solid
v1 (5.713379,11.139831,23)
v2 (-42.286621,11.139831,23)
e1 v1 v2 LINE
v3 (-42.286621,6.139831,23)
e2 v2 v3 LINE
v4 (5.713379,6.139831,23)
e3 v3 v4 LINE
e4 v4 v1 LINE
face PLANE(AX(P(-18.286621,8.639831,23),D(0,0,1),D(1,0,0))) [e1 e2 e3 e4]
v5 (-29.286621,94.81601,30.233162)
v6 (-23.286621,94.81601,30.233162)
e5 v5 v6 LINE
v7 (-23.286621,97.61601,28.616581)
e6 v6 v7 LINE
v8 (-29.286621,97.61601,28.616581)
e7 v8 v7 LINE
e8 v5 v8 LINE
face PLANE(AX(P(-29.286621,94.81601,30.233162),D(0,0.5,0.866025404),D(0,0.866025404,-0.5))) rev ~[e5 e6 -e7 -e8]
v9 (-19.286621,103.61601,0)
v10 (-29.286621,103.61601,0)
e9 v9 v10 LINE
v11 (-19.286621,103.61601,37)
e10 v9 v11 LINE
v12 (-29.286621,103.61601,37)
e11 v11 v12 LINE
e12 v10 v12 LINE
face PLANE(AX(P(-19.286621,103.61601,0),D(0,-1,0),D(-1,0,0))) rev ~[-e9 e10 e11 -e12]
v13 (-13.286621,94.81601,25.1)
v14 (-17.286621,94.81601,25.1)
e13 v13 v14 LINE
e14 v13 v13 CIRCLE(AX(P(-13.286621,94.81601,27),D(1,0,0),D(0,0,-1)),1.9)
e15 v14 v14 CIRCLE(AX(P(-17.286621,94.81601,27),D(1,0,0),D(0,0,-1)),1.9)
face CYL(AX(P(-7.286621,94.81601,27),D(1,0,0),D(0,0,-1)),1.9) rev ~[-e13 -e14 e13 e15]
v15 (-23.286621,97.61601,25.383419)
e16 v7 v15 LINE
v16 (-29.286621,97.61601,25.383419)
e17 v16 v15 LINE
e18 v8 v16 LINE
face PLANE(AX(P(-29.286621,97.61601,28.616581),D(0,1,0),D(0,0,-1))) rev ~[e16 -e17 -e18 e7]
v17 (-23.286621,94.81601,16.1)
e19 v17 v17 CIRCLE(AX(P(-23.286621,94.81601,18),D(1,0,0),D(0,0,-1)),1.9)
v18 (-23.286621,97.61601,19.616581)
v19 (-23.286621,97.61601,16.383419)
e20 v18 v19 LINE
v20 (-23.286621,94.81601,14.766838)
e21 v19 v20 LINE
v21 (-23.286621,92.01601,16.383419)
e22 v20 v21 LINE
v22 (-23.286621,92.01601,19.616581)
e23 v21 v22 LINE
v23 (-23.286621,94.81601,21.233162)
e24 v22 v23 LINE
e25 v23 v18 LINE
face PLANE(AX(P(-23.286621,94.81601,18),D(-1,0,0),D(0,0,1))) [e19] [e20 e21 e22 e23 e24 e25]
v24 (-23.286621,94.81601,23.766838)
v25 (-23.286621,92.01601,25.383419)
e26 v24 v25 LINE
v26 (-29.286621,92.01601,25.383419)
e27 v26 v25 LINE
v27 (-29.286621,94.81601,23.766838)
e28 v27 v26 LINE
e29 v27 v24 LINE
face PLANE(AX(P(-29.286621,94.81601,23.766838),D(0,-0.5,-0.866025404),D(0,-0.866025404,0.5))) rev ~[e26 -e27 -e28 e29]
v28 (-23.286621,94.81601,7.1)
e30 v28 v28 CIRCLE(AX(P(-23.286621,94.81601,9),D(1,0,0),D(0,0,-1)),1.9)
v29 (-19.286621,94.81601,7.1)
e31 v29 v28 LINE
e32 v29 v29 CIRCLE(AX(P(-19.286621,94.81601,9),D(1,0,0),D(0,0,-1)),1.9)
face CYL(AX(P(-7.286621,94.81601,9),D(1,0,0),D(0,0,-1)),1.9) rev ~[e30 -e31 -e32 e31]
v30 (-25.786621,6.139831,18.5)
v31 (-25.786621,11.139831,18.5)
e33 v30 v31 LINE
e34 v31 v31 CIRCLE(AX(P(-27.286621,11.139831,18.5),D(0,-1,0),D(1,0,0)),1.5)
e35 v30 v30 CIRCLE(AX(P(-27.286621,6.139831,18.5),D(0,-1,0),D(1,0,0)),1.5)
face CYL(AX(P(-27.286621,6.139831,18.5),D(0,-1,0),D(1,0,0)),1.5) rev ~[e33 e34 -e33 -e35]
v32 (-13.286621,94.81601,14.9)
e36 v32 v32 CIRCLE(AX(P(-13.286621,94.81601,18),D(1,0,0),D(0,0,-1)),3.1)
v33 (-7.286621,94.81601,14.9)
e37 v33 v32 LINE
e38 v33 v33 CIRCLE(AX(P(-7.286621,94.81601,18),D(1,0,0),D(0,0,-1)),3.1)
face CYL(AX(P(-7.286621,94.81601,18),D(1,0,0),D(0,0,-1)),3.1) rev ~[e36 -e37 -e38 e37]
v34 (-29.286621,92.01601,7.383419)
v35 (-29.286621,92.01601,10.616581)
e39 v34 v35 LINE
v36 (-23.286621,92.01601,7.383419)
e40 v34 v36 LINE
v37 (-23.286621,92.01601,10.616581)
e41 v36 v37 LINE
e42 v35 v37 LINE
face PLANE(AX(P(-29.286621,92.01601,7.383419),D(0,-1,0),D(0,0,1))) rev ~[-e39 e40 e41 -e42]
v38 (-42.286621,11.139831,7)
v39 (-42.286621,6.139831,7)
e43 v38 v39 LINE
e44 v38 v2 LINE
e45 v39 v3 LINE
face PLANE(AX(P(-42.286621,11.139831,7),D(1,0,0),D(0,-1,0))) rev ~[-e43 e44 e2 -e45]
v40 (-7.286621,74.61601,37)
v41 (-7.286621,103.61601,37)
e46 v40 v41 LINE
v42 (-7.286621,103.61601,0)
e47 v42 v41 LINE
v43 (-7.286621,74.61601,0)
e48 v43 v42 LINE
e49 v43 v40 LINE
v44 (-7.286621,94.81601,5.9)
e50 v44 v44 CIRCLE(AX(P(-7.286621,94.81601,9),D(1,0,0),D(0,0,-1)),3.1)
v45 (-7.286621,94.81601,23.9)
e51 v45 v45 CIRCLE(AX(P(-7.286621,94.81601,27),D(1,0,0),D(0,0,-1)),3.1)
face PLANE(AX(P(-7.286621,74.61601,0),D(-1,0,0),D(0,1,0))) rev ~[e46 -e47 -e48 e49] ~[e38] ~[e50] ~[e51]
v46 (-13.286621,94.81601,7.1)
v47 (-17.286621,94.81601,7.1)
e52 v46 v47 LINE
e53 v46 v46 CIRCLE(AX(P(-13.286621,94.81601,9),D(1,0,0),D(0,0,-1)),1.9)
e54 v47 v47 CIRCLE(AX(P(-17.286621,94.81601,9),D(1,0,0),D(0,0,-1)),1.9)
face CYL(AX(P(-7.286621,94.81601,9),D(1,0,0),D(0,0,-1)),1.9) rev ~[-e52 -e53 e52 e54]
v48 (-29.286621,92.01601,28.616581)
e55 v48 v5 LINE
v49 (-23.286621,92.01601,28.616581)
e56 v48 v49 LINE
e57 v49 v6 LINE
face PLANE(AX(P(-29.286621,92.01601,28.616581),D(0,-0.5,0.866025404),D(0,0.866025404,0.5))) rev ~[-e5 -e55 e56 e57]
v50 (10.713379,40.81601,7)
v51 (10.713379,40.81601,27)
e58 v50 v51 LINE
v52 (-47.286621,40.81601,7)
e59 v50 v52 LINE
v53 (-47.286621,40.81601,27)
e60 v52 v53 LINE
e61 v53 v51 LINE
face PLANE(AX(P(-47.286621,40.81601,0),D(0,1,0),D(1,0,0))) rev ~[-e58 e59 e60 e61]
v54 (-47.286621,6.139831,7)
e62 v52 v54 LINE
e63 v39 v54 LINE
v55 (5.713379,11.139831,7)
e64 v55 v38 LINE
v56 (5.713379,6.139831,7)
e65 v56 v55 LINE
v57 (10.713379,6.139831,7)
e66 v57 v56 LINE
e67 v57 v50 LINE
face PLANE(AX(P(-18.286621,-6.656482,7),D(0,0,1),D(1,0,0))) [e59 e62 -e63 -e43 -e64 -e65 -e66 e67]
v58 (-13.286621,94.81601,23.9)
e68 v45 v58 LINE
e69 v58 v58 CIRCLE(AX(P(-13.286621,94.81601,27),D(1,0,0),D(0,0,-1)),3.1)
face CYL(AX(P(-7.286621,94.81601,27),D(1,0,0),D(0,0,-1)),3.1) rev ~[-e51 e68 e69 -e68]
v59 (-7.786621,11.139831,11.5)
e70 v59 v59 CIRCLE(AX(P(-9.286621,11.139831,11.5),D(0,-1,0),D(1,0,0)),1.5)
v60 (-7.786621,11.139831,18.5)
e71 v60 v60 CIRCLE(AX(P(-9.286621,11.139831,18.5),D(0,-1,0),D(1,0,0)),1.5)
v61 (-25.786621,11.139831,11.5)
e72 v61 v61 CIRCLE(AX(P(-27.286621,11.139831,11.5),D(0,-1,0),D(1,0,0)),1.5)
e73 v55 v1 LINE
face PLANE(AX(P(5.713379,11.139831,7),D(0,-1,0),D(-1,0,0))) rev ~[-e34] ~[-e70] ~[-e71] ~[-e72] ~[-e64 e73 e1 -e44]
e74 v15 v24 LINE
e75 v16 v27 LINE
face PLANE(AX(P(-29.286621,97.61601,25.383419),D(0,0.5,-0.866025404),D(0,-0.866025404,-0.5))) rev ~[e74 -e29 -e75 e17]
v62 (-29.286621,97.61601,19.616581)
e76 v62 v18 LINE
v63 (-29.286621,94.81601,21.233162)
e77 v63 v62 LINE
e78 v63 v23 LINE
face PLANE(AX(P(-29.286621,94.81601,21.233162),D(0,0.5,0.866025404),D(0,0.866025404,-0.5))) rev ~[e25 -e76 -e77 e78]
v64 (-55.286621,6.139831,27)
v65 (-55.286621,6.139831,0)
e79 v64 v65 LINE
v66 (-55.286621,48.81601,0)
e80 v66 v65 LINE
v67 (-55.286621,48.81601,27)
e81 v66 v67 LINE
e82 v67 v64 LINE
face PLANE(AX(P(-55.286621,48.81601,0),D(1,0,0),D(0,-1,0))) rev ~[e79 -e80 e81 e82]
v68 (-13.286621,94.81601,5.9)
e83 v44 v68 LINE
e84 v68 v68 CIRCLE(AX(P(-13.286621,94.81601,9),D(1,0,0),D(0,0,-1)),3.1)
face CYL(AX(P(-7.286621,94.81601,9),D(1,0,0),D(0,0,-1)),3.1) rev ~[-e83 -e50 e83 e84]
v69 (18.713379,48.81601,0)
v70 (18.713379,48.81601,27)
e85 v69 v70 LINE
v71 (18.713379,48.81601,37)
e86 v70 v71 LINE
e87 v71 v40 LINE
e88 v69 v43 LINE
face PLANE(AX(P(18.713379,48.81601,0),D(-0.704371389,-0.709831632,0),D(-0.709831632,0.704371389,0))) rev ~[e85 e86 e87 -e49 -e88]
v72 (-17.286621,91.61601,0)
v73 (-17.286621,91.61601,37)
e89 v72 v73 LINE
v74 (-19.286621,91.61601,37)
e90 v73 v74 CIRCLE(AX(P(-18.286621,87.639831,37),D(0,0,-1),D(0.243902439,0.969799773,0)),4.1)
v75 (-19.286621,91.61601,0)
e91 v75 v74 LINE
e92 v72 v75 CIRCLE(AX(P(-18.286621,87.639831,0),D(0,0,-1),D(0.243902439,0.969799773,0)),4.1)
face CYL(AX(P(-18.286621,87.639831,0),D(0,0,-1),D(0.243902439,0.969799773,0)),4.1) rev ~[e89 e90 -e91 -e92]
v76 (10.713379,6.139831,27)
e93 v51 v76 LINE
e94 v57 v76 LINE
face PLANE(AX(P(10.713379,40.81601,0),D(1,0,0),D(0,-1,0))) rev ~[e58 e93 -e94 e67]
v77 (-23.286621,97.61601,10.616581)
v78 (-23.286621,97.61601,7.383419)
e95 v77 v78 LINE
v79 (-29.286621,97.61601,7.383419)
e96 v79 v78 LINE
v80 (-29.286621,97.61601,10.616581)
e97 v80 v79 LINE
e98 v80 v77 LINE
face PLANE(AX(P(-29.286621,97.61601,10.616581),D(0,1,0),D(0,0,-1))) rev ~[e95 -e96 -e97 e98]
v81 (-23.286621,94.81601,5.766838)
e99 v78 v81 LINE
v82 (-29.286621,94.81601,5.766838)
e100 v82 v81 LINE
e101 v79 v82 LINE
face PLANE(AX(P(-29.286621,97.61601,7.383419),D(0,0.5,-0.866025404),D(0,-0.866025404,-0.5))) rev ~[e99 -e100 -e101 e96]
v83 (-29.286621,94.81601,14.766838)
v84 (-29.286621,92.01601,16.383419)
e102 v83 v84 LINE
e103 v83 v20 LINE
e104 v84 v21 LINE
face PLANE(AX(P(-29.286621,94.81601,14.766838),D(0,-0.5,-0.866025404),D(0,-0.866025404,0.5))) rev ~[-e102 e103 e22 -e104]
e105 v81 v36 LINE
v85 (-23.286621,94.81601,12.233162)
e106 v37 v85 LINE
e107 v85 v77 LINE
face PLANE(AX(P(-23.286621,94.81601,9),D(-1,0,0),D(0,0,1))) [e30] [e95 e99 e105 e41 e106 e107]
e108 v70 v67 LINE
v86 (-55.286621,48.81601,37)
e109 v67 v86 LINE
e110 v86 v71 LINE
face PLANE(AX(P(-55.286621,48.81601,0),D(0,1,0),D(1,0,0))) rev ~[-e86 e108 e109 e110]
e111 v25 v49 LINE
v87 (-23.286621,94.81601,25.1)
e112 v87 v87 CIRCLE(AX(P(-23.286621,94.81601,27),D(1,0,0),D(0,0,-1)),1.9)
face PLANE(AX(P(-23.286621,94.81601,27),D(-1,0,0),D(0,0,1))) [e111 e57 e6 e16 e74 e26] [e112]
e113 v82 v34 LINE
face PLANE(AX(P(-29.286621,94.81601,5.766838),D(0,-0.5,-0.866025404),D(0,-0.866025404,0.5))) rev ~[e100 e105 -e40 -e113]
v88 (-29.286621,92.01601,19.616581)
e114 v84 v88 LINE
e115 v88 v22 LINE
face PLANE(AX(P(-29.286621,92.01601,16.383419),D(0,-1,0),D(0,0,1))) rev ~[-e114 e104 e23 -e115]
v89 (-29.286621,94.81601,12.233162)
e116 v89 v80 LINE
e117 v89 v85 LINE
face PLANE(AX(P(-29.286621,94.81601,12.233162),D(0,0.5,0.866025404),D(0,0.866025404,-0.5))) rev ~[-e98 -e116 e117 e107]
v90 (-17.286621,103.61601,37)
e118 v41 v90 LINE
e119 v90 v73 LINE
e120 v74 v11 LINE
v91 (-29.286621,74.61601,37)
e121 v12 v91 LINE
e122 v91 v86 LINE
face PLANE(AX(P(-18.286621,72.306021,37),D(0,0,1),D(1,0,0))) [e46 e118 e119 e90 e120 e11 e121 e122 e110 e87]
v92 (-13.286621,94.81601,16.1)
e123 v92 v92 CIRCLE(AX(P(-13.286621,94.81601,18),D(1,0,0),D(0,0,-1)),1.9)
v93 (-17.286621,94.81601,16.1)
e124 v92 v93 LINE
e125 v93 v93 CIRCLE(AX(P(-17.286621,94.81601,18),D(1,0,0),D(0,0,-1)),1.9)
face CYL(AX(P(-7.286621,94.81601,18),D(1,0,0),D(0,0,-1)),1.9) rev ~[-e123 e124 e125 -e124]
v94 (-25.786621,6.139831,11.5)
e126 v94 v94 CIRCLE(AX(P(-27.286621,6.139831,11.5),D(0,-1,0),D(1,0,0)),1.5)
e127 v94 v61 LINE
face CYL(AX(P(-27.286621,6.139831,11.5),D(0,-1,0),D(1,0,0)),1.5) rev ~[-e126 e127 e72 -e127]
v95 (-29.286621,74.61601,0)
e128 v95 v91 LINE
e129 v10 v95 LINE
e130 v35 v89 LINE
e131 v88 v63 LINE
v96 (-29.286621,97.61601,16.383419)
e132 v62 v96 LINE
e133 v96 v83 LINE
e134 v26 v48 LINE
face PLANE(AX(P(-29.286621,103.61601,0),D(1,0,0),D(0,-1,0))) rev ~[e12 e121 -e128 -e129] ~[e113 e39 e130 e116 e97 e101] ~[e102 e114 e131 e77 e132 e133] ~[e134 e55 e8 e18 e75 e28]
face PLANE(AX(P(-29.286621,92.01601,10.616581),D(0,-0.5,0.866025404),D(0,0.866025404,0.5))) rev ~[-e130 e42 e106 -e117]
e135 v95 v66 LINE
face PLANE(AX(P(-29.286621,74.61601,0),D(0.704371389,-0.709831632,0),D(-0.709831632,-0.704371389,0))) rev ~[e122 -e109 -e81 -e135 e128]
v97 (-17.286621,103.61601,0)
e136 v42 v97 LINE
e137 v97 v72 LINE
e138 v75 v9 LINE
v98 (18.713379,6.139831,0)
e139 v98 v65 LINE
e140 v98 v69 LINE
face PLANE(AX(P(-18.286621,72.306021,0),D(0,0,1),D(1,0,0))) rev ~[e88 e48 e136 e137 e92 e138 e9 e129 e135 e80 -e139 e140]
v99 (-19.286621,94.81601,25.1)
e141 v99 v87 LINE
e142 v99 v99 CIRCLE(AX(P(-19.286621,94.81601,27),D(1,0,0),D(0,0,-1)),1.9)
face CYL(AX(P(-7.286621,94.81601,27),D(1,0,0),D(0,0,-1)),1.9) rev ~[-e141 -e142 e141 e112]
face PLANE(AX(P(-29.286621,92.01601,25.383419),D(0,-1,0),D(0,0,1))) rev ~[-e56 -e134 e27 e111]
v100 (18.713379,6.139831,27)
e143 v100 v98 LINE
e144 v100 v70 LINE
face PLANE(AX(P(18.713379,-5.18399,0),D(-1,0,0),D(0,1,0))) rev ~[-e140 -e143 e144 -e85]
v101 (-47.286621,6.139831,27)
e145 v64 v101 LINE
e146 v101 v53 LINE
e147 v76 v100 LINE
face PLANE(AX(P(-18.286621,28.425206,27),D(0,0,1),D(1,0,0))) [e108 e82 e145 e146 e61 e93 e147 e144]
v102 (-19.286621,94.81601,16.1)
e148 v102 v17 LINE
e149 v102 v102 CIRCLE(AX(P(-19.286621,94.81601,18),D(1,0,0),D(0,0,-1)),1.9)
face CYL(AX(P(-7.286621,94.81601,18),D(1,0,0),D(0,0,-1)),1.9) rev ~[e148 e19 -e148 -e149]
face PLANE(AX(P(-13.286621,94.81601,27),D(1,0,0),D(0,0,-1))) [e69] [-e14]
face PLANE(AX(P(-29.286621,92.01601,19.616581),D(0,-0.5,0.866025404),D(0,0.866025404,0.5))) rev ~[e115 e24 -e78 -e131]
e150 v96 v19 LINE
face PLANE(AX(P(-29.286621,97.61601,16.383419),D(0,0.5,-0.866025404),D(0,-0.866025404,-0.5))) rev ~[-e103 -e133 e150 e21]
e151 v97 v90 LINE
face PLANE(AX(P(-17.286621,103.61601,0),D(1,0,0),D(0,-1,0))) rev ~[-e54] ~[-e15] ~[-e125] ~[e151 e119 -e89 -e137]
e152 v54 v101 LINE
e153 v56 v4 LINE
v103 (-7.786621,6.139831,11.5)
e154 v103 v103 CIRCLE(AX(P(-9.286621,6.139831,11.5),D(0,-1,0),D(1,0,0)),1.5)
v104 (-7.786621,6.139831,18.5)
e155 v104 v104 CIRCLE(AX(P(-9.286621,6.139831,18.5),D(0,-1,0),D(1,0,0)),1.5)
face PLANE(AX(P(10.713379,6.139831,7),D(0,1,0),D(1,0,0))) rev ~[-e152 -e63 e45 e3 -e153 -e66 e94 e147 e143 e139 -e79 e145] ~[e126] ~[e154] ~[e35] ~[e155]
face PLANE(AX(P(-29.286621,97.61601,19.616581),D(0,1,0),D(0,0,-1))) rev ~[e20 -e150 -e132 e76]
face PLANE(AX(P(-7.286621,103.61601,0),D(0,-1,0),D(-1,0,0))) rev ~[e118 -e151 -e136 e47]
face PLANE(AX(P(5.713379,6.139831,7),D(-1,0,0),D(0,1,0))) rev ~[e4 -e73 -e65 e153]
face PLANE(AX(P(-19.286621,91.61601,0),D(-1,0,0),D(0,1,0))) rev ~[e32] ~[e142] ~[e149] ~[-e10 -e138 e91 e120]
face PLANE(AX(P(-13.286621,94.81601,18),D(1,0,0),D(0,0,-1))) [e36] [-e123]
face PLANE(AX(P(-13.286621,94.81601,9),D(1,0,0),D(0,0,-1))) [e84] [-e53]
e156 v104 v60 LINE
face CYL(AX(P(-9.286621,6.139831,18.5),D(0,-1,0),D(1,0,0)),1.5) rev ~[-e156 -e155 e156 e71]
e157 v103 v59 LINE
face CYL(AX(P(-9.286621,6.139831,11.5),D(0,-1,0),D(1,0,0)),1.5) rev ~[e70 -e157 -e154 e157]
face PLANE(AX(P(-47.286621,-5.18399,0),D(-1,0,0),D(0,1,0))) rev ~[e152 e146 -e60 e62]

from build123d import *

# Parameters (mm, degrees)
SALIENTE_EXTRUIR1_DEPTH = 7
SALIENTE_EXTRUIR3_DEPTH = 27
SALIENTE_EXTRUIR5_DEPTH = 37
CROQUIS10_R             = 1.9
CORTAR_EXTRUIR3_DEPTH   = 22
CROQUIS11_R             = 3.1
CORTAR_EXTRUIR4_DEPTH   = 6
CORTAR_EXTRUIR5_DEPTH   = 6
CORTAR_EXTRUIR6_START   = -7
CORTAR_EXTRUIR6_DEPTH   = 7
CROQUIS17_4_W           = 8
CROQUIS17_4_H           = 11.32382093
CORTAR_EXTRUIR7_DEPTH   = 20
SALIENTE_EXTRUIR6_DEPTH = 16
CROQUIS18_R             = 1.5
CORTAR_EXTRUIR8_DEPTH   = 10


with BuildPart() as part:
    # Croquis2 → Saliente-Extruir1 (new body)
    with BuildSketch(Plane.XY):
        with BuildLine():
            Line((-47.286620614, 40.816010109), (-47.286620614, -49.183989891))
            ThreePointArc((-47.286620614, -49.183989891), (-45.236368082, -54.133737359), (-40.286620614, -56.183989891))
            Line((-40.286620614, -56.183989891), (3.713379386, -56.183989891))
            ThreePointArc((3.713379386, -56.183989891), (8.663126854, -54.133737359), (10.713379386, -49.183989891))
            Line((10.713379386, -49.183989891), (10.713379386, 40.816010109))
            Line((10.713379386, 40.816010109), (-47.286620614, 40.816010109))
        make_face()
    extrude(amount=SALIENTE_EXTRUIR1_DEPTH)

    # Croquis2<7> → Saliente-Extruir3 (add)
    with BuildSketch(Plane.XY):
        Polygon((-55.286620614, 48.816010109), (-55.286620614, -5.183989891), (-47.286620614, -5.183989891), (-47.286620614, 40.816010109), (10.713379386, 40.816010109), (10.713379386, -5.183989891), (18.713379386, -5.183989891), (18.713379386, 48.816010109), align=None)
    extrude(amount=SALIENTE_EXTRUIR3_DEPTH)

    # Croquis2<14> → Saliente-Extruir5 (add)
    with BuildSketch(Plane.XY):
        with BuildLine():
            Line((-55.286620614, 48.816010109), (-30.786620614, 48.816010109))
            Line((-30.786620614, 48.816010109), (-5.786620614, 48.816010109))
            Line((-5.786620614, 48.816010109), (18.713379386, 48.816010109))
            Line((18.713379386, 48.816010109), (-7.286620614, 74.616010109))
            Line((-7.286620614, 74.616010109), (-7.286620614, 103.616010109))
            Line((-7.286620614, 103.616010109), (-17.286620614, 103.616010109))
            Line((-17.286620614, 103.616010109), (-17.286620614, 91.616010109))
            ThreePointArc((-17.286620614, 91.616010109), (-18.286620614, 83.539831039), (-19.286620614, 91.616010109))
            Line((-19.286620614, 91.616010109), (-19.286620614, 103.616010109))
            Line((-19.286620614, 103.616010109), (-29.286620614, 103.616010109))
            Line((-29.286620614, 103.616010109), (-29.286620614, 74.616010109))
            Line((-29.286620614, 74.616010109), (-55.286620614, 48.816010109))
        make_face()
    extrude(amount=SALIENTE_EXTRUIR5_DEPTH)

    # Croquis10 → Cortar-Extruir3 (cut)
    with BuildSketch(Plane(origin=(-7.286620614, 0, 0), x_dir=(0, 0, -1), z_dir=(1, 0, 0))):
        with Locations((-9, 94.816010109)):
            Circle(CROQUIS10_R)
        with Locations((-18, 94.816010109)):
            Circle(CROQUIS10_R)
        with Locations((-27, 94.816010109)):
            Circle(CROQUIS10_R)
    extrude(amount=-CORTAR_EXTRUIR3_DEPTH, mode=Mode.SUBTRACT)

    # Croquis11 → Cortar-Extruir4 (cut)
    with BuildSketch(Plane(origin=(-7.286620614, 0, 0), x_dir=(0, 0, -1), z_dir=(1, 0, 0))):
        with Locations((-27, 94.816010109)):
            Circle(CROQUIS11_R)
        with Locations((-18, 94.816010109)):
            Circle(CROQUIS11_R)
        with Locations((-9, 94.816010109)):
            Circle(CROQUIS11_R)
    extrude(amount=-CORTAR_EXTRUIR4_DEPTH, mode=Mode.SUBTRACT)

    # Croquis12 → Cortar-Extruir5 (cut)
    with BuildSketch(Plane.ZY.offset(29.286620614)):
        Polygon((21.233161507, 94.816010109), (19.616580754, 97.616010109), (16.383419246, 97.616010109), (14.766838493, 94.816010109), (16.383419246, 92.016010109), (19.616580754, 92.016010109), align=None)
        Polygon((12.233161507, 94.816010109), (10.616580754, 97.616010109), (7.383419246, 97.616010109), (5.766838493, 94.816010109), (7.383419246, 92.016010109), (10.616580754, 92.016010109), align=None)
        Polygon((30.233161507, 94.816010109), (28.616580754, 97.616010109), (25.383419246, 97.616010109), (23.766838493, 94.816010109), (25.383419246, 92.016010109), (28.616580754, 92.016010109), align=None)
    extrude(amount=-CORTAR_EXTRUIR5_DEPTH, mode=Mode.SUBTRACT)

    # Croquis17 → Cortar-Extruir6 (cut)
    with BuildSketch(Plane.XY.offset(7).offset(CORTAR_EXTRUIR6_START)):
        with BuildLine():
            Line((-55.286620614, 6.139831039), (-55.286620614, -5.183989891))
            Line((-55.286620614, -5.183989891), (-47.286620614, -5.183989891))
            Line((-47.286620614, -5.183989891), (-47.286620614, -49.183989891))
            ThreePointArc((-47.286620614, -49.183989891), (-45.236368082, -54.133737359), (-40.286620614, -56.183989891))
            Line((-40.286620614, -56.183989891), (3.713379386, -56.183989891))
            ThreePointArc((3.713379386, -56.183989891), (8.663126854, -54.133737359), (10.713379386, -49.183989891))
            Line((10.713379386, -49.183989891), (10.713379386, -5.183989891))
            Line((10.713379386, -5.183989891), (18.713379386, -5.183989891))
            Line((18.713379386, -5.183989891), (18.713379386, 6.139831039))
            Line((18.713379386, 6.139831039), (-55.286620614, 6.139831039))
        make_face()
    extrude(amount=CORTAR_EXTRUIR6_DEPTH, mode=Mode.SUBTRACT)

    # Croquis17<4> → Cortar-Extruir7 (cut)
    with BuildSketch(Plane.XY.offset(7)):
        with Locations((-51.286620614, 0.477920574)):
            Rectangle(CROQUIS17_4_W, CROQUIS17_4_H)
        with Locations((14.713379386, 0.477920574)):
            Rectangle(CROQUIS17_4_W, CROQUIS17_4_H)
    extrude(amount=CORTAR_EXTRUIR7_DEPTH, mode=Mode.SUBTRACT)

    # Croquis17<5> → Saliente-Extruir6 (add)
    with BuildSketch(Plane.XY.offset(7)):
        Polygon((-42.286620614, 6.139831039), (-18.286620614, 6.139831039), (5.713379386, 6.139831039), (5.713379386, 11.139831039), (-42.286620614, 11.139831039), align=None)
    extrude(amount=SALIENTE_EXTRUIR6_DEPTH)

    # Croquis18 → Cortar-Extruir8 (cut)
    with BuildSketch(Plane.XZ.offset(-6.139831039)):
        with Locations((-27.286620614, 18.5)):
            Circle(CROQUIS18_R)
        with Locations((-9.286620614, 18.5)):
            Circle(CROQUIS18_R)
        with Locations((-27.286620614, 11.5)):
            Circle(CROQUIS18_R)
        with Locations((-9.286620614, 11.5)):
            Circle(CROQUIS18_R)
    extrude(amount=-CORTAR_EXTRUIR8_DEPTH, mode=Mode.SUBTRACT)


solid = part.part
